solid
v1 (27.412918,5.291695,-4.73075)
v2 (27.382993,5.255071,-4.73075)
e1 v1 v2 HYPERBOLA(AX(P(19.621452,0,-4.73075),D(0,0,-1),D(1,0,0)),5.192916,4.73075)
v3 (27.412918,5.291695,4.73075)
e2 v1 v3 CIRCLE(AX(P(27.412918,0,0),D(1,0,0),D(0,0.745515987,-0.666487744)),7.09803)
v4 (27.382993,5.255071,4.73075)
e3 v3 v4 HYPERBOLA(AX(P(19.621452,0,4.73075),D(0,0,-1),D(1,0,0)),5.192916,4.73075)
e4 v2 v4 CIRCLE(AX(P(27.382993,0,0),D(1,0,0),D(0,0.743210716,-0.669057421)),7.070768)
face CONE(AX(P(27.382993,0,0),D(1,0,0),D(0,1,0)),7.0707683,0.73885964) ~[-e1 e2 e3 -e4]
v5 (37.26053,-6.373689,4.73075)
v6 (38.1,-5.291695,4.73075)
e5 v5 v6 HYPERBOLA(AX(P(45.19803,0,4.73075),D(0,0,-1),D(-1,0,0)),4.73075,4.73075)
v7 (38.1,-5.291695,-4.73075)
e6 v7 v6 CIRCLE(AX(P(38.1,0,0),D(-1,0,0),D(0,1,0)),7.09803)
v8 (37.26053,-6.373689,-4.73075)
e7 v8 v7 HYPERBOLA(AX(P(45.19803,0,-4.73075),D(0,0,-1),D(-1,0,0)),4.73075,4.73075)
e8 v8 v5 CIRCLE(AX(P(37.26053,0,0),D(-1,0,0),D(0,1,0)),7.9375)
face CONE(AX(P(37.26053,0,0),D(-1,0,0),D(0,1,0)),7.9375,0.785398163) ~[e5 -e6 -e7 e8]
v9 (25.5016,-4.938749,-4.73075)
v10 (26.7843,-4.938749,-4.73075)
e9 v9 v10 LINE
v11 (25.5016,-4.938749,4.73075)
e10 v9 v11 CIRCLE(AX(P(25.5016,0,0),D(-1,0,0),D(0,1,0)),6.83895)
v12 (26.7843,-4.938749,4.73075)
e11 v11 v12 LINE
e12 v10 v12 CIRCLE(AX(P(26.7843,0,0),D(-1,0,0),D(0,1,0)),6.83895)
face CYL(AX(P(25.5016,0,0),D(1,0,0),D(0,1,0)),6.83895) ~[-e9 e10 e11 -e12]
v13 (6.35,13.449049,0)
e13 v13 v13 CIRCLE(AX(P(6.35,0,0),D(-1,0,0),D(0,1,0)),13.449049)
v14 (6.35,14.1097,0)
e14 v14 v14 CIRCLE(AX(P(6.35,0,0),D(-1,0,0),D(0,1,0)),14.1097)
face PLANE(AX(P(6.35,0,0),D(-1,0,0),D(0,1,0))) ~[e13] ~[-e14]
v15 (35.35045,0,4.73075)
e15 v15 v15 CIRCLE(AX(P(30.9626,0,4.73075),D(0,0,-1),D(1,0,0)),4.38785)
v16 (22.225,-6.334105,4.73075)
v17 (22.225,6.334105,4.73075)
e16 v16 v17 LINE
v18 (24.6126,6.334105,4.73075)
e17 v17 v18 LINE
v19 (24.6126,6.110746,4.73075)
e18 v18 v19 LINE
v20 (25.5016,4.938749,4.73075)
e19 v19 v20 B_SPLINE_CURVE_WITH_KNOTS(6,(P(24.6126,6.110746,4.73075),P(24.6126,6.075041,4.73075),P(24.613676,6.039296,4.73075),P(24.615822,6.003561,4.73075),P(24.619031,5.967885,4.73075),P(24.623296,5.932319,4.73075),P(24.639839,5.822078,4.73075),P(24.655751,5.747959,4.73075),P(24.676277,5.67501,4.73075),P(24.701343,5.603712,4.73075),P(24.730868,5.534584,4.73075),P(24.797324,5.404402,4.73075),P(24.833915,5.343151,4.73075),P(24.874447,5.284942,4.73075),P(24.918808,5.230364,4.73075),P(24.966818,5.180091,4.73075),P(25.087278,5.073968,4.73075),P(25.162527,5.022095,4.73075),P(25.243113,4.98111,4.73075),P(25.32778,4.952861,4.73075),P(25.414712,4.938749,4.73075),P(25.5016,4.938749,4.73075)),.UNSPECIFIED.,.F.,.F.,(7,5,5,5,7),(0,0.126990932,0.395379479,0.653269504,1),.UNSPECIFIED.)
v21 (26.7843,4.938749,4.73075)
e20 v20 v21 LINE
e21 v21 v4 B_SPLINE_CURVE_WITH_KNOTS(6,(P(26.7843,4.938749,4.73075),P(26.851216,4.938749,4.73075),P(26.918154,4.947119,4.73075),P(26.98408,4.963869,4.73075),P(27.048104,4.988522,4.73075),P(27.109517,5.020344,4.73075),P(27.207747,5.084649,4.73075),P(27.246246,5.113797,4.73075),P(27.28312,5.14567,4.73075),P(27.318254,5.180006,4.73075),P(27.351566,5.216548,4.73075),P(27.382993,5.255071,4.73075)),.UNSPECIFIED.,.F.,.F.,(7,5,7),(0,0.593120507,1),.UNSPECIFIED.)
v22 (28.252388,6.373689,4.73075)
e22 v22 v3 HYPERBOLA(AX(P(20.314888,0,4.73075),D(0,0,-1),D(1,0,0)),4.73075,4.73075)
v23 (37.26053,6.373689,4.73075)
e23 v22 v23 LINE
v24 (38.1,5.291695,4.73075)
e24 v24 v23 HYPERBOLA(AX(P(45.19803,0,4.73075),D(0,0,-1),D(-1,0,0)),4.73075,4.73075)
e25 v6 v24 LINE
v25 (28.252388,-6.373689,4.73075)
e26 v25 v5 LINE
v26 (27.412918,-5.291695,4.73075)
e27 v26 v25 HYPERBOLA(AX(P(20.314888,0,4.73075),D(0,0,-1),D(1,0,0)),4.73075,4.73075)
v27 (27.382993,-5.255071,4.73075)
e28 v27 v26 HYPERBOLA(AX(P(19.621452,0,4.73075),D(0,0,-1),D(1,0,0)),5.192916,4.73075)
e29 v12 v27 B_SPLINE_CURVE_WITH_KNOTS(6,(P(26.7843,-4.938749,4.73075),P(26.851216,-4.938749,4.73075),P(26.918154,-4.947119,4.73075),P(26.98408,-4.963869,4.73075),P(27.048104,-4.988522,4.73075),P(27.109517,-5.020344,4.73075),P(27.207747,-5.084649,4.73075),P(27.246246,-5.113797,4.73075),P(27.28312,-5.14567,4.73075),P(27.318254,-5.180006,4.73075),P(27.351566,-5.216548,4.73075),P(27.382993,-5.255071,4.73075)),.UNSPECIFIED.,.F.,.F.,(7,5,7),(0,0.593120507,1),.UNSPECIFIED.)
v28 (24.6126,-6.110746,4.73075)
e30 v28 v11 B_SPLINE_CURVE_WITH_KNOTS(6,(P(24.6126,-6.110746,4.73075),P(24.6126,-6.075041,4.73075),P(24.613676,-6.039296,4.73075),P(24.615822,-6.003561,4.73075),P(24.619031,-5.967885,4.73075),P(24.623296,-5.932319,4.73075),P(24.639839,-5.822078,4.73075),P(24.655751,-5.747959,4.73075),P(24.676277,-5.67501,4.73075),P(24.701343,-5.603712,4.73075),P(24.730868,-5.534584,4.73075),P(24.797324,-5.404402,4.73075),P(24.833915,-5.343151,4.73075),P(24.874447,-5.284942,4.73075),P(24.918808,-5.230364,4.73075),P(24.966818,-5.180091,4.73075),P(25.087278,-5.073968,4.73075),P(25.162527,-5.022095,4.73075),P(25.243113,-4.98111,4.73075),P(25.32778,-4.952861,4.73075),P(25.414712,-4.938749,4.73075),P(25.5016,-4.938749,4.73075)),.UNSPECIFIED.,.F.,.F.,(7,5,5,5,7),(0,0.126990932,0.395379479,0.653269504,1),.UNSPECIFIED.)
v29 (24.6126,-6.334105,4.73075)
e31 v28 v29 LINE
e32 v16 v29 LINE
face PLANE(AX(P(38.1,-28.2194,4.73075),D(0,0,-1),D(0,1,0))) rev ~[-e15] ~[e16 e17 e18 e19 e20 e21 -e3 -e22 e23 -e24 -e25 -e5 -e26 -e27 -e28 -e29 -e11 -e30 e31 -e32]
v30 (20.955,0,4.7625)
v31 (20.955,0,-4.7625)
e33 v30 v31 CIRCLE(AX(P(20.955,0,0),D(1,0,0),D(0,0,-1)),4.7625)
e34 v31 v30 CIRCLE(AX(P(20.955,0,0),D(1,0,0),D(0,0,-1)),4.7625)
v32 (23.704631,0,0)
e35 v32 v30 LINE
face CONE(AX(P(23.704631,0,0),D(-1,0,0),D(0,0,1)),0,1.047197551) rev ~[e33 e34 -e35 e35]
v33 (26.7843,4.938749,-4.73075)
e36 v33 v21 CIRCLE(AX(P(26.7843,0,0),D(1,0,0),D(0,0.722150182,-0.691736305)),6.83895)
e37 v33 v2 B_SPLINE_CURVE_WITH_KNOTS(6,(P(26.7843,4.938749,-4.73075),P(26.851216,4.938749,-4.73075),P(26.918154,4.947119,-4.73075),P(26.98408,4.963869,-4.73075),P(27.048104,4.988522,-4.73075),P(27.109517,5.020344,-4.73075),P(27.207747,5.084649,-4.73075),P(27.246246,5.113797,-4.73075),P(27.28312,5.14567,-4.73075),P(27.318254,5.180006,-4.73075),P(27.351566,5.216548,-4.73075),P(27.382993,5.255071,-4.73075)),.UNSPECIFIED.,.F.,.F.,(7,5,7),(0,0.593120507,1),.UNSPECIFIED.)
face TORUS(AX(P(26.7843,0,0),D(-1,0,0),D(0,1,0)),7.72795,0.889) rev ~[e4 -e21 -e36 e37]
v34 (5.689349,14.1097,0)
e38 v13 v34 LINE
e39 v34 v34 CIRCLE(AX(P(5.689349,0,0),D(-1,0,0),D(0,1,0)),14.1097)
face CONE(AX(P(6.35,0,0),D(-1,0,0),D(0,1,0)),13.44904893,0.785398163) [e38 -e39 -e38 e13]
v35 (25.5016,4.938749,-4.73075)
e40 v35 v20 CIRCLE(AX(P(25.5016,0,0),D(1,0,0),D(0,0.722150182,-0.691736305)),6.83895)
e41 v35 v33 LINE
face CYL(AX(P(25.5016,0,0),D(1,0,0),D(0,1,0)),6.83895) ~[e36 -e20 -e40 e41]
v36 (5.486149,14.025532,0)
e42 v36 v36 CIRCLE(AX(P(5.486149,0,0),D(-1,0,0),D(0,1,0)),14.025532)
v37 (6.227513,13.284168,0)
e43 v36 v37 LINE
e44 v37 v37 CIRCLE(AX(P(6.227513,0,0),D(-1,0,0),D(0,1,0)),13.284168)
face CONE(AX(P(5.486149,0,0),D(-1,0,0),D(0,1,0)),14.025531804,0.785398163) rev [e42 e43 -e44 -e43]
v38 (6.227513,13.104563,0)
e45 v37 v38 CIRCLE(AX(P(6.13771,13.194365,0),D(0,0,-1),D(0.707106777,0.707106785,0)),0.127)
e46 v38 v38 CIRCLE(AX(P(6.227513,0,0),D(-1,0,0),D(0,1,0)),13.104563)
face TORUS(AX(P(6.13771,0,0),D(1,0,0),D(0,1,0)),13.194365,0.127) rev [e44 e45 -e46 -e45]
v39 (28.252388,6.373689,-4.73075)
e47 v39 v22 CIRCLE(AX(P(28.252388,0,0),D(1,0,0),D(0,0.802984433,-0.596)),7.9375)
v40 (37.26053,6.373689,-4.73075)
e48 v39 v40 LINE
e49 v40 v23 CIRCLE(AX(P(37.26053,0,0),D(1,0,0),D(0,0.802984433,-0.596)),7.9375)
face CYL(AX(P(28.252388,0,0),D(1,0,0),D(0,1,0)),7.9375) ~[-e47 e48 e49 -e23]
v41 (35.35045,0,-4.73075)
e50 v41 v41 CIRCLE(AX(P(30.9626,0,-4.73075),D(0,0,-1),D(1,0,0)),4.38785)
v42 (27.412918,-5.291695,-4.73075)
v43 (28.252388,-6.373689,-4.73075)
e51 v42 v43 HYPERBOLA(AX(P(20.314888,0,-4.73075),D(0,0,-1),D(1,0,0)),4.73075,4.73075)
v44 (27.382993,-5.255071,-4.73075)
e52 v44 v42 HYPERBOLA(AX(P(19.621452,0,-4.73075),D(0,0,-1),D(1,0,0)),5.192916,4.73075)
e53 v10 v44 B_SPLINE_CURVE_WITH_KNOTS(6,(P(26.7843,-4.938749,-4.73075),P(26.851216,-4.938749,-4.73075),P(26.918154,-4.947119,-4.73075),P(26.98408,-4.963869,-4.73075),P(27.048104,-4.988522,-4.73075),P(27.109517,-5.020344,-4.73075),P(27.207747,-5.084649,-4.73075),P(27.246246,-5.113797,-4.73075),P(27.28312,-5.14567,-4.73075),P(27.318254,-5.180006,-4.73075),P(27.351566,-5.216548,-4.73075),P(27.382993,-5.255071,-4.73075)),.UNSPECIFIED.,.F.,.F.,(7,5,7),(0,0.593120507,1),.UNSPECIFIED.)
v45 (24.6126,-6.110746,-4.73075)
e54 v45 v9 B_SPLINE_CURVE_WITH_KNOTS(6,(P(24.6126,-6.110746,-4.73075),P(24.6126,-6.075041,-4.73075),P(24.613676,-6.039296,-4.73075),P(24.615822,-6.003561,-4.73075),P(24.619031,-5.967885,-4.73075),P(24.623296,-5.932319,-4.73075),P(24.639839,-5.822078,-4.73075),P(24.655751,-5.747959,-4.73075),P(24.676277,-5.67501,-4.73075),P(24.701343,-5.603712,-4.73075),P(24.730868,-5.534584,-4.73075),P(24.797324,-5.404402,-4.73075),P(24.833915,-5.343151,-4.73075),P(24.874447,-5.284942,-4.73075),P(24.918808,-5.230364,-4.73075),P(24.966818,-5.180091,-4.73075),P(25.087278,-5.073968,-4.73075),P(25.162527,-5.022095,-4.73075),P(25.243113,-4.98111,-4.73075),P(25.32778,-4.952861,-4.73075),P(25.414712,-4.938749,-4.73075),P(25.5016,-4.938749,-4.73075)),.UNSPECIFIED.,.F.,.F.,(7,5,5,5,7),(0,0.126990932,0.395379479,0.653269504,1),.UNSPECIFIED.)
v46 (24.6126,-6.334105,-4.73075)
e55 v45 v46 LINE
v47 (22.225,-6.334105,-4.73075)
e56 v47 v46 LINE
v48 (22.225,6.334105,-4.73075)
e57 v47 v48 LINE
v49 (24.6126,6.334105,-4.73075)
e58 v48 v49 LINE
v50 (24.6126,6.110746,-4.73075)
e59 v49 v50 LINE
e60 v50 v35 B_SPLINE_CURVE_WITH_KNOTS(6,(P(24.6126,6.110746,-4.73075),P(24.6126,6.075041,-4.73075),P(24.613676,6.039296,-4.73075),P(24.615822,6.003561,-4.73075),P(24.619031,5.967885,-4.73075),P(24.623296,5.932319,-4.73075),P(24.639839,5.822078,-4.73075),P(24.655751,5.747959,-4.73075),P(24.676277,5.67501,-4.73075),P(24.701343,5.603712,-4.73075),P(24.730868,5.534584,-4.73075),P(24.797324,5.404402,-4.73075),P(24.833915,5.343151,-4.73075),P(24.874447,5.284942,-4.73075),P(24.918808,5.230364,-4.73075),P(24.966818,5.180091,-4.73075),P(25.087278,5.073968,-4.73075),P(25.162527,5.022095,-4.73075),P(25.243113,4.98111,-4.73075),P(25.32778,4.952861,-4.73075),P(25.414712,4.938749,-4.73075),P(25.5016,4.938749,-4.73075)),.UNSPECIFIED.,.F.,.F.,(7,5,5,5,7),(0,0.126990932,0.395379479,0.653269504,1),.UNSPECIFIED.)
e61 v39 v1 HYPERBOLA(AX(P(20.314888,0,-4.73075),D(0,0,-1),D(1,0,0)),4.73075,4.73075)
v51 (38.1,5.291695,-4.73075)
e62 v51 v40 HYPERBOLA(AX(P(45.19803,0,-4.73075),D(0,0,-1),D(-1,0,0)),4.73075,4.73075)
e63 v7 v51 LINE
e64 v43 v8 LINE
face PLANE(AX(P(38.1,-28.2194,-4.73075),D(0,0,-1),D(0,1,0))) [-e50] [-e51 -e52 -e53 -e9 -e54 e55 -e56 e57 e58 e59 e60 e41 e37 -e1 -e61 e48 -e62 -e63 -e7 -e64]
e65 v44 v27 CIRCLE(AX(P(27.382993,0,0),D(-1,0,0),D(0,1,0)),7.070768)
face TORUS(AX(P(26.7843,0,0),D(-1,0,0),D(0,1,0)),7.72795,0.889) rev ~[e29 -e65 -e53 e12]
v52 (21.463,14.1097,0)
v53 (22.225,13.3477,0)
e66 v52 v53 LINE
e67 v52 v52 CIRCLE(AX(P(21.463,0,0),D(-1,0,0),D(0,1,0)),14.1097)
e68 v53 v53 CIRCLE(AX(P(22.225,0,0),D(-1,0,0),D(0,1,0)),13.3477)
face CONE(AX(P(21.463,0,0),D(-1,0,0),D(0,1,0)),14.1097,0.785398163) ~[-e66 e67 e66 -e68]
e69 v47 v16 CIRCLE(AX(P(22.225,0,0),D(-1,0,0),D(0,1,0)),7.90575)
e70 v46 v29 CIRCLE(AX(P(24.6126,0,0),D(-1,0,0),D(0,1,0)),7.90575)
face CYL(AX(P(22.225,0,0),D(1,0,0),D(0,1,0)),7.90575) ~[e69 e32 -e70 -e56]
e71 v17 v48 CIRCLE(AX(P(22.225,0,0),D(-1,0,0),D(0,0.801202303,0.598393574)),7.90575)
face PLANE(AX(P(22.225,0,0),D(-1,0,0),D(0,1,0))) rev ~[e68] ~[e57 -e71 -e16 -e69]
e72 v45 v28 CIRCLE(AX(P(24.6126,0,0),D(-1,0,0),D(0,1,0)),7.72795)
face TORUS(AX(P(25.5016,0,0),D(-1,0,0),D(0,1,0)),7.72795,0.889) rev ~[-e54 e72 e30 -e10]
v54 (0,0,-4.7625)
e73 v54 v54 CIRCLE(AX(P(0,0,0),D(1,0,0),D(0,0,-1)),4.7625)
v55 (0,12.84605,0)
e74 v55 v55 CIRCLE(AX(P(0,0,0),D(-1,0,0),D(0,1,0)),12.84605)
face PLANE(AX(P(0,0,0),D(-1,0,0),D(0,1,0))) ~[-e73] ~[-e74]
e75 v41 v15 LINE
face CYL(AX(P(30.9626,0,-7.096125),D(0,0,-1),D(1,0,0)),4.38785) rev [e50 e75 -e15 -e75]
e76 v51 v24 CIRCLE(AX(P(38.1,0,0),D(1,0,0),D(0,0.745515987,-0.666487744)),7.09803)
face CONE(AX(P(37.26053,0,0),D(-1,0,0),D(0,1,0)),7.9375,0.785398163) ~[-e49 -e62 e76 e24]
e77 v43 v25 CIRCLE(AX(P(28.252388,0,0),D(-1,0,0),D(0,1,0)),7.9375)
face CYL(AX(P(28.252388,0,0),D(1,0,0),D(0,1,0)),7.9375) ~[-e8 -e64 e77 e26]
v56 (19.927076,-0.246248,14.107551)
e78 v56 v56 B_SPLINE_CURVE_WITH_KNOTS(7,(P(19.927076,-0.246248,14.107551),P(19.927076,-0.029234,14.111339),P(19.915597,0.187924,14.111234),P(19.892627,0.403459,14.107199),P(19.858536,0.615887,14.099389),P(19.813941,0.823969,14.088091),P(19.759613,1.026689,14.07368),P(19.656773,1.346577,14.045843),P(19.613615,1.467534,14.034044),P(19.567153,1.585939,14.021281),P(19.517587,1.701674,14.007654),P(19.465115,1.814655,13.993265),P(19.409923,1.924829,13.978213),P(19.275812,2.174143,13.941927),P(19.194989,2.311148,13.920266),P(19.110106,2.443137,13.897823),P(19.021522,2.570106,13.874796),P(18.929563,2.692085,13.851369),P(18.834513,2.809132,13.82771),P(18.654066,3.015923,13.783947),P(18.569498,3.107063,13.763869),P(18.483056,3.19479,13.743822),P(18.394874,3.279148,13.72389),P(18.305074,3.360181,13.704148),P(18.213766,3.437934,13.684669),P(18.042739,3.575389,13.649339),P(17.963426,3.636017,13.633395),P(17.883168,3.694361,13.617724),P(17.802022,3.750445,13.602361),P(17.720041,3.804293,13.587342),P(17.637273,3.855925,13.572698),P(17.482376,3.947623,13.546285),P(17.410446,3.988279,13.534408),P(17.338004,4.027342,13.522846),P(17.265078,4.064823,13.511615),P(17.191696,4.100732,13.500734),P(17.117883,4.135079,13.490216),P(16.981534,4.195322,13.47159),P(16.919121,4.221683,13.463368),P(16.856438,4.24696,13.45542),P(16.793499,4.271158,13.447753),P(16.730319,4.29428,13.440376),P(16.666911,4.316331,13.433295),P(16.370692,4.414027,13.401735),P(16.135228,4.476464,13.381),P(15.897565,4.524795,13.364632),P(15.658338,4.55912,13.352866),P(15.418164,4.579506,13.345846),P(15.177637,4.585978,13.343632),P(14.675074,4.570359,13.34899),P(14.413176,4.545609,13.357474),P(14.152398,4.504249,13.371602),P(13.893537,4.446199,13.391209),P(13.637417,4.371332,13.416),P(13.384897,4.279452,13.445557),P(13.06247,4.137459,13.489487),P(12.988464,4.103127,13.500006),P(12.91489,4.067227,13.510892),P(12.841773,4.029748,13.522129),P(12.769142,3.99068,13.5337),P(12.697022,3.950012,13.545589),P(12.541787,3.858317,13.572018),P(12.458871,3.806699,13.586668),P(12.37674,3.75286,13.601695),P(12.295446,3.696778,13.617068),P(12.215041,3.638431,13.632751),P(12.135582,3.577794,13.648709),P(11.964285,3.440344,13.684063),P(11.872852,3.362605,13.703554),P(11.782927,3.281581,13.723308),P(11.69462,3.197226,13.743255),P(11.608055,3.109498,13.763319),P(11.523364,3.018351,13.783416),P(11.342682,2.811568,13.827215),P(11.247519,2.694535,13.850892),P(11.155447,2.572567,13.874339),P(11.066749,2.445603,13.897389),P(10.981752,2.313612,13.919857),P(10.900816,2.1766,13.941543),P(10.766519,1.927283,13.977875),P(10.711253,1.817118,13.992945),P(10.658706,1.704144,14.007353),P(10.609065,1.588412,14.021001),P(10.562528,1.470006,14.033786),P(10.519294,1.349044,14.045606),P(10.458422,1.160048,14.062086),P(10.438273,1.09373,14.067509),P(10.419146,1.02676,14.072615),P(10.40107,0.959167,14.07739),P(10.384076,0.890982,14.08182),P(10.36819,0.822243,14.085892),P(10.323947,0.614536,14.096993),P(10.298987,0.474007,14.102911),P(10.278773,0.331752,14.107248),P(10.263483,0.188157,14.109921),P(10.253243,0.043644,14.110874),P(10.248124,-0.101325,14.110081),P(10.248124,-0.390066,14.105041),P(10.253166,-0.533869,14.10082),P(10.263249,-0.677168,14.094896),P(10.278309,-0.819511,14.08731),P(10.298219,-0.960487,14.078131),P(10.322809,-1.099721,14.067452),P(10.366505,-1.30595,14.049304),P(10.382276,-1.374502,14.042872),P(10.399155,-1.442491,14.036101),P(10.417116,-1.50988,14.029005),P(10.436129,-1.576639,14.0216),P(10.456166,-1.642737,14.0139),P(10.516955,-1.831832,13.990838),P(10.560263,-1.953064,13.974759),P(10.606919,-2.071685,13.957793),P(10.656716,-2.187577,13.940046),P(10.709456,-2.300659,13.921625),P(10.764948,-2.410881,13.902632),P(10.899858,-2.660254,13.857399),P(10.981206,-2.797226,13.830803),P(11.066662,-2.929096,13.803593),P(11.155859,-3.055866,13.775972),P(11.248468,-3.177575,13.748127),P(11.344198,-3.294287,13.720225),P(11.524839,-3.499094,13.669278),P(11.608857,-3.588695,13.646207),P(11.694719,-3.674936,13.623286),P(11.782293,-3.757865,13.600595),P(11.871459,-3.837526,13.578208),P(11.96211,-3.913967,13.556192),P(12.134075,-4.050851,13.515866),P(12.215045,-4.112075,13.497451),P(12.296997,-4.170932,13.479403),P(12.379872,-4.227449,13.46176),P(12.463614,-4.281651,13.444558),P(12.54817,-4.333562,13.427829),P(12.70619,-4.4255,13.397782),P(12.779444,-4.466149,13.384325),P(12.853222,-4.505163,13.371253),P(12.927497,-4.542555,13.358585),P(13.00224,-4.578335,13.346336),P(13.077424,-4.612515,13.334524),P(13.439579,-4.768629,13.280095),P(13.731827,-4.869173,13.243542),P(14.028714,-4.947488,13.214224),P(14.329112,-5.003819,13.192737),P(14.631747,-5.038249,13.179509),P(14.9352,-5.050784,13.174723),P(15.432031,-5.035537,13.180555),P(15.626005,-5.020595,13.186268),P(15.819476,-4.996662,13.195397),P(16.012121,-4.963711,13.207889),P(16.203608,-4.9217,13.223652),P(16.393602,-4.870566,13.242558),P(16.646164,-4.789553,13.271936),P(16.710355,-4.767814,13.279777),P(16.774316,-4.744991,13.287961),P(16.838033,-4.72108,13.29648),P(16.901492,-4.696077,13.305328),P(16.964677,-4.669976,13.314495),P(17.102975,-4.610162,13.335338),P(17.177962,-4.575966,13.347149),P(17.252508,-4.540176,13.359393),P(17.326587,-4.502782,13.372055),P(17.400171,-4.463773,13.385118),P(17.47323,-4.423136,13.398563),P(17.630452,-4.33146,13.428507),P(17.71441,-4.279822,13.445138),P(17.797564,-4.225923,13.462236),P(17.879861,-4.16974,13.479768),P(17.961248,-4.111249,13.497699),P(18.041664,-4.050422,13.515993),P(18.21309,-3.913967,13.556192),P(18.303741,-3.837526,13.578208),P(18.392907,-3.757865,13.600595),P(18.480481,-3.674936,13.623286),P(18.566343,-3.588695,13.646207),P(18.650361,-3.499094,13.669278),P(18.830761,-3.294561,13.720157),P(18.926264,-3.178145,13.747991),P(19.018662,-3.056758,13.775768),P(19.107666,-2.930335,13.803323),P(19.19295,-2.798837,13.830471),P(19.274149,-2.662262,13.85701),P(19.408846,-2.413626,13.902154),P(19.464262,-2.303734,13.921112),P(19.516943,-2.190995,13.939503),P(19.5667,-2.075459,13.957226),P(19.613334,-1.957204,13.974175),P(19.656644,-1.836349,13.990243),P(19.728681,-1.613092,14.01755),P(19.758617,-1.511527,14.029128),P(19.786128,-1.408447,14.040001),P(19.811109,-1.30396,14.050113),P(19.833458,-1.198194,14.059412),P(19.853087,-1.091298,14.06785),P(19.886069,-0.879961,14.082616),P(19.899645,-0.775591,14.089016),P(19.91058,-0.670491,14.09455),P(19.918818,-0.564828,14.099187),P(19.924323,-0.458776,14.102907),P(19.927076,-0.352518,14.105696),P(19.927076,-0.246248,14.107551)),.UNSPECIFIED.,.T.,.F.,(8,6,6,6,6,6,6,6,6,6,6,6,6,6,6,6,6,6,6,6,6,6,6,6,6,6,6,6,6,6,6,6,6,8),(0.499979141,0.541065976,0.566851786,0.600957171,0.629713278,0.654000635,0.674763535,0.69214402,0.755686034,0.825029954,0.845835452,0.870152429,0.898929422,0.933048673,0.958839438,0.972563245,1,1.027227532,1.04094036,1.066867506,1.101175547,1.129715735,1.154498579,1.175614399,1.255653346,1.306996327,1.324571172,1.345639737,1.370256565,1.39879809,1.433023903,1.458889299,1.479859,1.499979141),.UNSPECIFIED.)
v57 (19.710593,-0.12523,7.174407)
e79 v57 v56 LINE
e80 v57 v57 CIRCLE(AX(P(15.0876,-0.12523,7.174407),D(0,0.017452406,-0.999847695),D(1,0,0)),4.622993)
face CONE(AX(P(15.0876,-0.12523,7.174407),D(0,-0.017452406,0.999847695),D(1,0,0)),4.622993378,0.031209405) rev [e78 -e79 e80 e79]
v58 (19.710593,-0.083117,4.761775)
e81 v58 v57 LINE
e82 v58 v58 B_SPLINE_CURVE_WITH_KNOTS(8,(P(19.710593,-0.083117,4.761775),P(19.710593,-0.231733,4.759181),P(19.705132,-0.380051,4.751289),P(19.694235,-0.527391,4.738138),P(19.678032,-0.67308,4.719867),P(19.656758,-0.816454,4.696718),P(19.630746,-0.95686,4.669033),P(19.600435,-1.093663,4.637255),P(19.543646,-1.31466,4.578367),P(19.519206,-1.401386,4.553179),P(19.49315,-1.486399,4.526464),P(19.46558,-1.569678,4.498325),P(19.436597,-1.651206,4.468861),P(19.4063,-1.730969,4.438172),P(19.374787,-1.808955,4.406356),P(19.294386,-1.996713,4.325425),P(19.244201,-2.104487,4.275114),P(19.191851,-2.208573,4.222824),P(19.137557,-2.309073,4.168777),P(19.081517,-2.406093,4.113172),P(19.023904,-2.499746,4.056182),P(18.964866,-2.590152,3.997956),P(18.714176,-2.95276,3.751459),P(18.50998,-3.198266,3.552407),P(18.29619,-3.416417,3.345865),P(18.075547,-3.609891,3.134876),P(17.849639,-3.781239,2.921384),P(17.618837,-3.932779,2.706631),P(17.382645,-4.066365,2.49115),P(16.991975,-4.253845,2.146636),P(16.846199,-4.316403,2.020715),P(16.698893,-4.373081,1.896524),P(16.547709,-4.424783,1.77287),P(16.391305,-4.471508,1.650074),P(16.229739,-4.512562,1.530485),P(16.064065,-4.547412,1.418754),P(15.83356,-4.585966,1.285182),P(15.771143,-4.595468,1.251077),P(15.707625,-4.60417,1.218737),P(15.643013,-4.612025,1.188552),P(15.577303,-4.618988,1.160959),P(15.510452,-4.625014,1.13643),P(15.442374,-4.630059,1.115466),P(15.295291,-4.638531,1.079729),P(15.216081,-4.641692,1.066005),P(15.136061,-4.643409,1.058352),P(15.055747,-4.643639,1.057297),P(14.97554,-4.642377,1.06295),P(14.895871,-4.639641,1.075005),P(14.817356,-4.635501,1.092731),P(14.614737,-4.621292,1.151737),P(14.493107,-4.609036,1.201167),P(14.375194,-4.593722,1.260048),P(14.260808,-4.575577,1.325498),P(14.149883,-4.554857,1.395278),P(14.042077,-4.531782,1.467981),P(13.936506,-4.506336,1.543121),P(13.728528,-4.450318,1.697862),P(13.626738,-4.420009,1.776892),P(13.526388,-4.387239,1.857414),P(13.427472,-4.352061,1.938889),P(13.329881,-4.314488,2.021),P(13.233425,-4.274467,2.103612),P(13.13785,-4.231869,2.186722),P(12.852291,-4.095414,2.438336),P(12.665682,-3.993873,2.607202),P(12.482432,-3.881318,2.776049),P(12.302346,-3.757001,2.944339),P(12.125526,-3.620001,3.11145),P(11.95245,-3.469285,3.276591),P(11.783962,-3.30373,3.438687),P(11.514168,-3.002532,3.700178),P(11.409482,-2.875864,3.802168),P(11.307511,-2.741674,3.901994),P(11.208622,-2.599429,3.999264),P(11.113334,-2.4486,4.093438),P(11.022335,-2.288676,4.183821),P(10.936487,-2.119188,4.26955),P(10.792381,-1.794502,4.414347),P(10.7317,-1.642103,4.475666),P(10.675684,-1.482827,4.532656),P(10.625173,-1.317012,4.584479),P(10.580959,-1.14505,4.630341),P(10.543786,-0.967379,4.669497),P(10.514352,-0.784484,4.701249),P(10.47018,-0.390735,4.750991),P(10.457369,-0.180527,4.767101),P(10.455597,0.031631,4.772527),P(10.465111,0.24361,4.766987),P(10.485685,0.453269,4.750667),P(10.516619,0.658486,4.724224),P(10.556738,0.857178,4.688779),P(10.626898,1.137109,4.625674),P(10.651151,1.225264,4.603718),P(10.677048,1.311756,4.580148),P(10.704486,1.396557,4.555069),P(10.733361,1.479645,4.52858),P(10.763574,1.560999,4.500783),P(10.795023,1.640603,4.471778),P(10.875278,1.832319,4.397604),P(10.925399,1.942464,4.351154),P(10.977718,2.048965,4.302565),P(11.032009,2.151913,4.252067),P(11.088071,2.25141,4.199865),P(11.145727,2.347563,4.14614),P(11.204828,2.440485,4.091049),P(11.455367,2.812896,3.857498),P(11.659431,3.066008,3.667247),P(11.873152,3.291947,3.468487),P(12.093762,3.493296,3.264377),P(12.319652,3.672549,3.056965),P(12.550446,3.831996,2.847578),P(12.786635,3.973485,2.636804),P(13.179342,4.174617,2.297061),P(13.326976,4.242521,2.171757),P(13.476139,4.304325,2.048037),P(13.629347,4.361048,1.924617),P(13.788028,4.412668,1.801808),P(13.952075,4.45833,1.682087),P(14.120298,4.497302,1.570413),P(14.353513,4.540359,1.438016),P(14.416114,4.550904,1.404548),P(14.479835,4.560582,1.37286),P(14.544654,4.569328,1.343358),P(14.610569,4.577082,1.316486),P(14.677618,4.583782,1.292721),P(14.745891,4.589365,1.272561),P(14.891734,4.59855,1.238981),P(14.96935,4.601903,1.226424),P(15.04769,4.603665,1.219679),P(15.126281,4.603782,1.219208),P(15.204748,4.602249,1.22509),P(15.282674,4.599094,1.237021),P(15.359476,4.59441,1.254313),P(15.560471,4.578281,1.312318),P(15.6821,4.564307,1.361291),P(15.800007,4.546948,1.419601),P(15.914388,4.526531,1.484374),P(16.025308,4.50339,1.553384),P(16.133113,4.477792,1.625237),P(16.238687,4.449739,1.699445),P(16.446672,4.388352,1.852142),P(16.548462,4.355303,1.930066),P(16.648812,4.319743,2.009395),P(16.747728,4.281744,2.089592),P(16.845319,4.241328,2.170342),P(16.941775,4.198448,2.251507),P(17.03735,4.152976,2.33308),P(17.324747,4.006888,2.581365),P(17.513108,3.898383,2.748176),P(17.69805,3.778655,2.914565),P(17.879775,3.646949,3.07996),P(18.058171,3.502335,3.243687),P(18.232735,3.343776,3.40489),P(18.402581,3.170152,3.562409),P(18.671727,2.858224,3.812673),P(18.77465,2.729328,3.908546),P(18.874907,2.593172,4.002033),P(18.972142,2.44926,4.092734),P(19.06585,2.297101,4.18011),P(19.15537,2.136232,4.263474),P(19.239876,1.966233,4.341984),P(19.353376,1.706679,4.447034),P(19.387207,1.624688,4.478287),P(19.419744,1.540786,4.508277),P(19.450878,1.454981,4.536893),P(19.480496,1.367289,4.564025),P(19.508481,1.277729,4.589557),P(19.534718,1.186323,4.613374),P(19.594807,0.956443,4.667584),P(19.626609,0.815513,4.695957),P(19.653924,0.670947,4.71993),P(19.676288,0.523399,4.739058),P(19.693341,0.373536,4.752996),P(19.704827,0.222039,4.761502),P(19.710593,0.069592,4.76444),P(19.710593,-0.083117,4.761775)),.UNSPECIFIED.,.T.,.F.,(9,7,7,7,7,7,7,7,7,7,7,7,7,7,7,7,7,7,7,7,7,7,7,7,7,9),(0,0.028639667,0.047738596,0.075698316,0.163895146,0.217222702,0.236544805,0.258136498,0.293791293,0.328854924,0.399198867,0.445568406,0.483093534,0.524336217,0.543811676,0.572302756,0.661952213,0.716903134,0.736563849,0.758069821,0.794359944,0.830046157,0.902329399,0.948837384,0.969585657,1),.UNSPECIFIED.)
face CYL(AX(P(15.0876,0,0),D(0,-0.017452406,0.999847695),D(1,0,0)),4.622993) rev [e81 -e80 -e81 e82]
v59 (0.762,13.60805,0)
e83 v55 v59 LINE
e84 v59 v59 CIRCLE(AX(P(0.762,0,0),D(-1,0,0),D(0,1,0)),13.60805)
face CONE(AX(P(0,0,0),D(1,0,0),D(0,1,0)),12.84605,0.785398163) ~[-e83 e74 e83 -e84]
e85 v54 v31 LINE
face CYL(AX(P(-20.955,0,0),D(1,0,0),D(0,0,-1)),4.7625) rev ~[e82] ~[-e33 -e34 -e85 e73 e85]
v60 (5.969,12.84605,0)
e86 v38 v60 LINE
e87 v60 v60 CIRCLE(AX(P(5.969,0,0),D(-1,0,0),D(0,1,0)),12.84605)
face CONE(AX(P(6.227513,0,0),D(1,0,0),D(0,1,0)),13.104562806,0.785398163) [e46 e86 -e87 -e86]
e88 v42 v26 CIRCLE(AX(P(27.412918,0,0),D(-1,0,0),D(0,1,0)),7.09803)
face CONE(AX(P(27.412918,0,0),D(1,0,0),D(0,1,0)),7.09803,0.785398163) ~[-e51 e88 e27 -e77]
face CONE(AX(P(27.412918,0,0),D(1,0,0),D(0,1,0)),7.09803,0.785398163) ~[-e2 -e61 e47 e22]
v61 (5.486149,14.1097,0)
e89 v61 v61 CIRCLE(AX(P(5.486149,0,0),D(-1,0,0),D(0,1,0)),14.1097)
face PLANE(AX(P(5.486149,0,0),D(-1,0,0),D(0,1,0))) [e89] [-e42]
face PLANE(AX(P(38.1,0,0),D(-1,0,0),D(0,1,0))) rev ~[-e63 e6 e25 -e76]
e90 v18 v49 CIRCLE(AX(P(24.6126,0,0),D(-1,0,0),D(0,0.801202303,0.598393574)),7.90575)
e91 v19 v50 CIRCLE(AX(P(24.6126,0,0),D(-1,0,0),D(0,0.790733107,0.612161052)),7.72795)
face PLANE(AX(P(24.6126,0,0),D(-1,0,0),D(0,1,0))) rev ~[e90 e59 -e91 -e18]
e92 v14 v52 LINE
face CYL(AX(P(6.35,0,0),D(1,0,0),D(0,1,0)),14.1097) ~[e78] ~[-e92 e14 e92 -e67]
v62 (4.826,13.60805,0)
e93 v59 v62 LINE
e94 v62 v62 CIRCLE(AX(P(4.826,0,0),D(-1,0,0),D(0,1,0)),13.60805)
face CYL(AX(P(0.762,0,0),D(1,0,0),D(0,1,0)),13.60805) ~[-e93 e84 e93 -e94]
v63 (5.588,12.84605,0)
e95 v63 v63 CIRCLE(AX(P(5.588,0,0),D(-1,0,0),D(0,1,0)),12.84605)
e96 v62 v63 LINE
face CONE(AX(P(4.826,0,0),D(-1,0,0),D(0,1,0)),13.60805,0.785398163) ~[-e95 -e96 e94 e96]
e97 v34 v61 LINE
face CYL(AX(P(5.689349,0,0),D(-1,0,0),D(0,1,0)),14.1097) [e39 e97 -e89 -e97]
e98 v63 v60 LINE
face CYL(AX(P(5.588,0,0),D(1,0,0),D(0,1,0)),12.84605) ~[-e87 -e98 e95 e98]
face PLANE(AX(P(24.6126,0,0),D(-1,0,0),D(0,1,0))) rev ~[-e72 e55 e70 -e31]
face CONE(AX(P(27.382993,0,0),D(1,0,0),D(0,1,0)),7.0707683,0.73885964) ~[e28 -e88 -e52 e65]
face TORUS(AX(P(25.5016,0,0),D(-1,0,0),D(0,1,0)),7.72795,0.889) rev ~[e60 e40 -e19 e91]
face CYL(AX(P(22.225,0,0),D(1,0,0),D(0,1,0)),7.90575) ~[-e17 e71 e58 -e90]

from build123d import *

# Parameters (mm, degrees)
SKETCH3_W               = 56.4388
SKETCH3_H               = 112.8776
SKETCH3_W_2             = 9.4615
SKETCH3_H_2             = 56.4388
CUT_EXTRUDE1_DEPTH      = 15.875
HOLE1_D                 = 9.525
HOLE1_DEPTH             = 20.955
HOLE1_TIP               = 2.749630657
CUT_EXTRUDE2_DEPTH      = 7.096125
CUT_EXTRUDE2_DEPTH_BACK = 7.096125
SKETCH8_R               = 4.38785


with BuildPart() as part:
    # Sketch1 → Revolve1 (revolve)
    with BuildSketch(Plane.XY):
        Polygon((0, 0), (0, 12.84605), (0.762, 13.60805), (4.826, 13.60805), (5.588, 12.84605), (6.35, 12.84605), (6.35, 14.1097), (21.463, 14.1097), (22.225, 13.3477), (22.225, 0), align=None)
    revolve(axis=Axis((22.225, 0, 0), (-1, 0, 0)))

    # Sketch2 → Revolve2 (revolve)
    with BuildSketch(Plane.XY):
        with BuildLine():
            Line((22.225, 0), (22.225, 7.90575))
            Line((22.225, 7.90575), (24.6126, 7.90575))
            Line((24.6126, 7.90575), (24.6126, 7.72795))
            ThreePointArc((24.6126, 7.72795), (24.872982072, 7.099332072), (25.5016, 6.83895))
            Line((25.5016, 6.83895), (26.7843, 6.83895))
            ThreePointArc((26.7843, 6.83895), (27.10530348, 6.898927826), (27.38299292, 7.0707683))
            Line((27.38299292, 7.0707683), (27.412917928, 7.09803))
            Line((27.412917928, 7.09803), (28.252387928, 7.9375))
            Line((28.252387928, 7.9375), (37.26053, 7.9375))
            Line((37.26053, 7.9375), (38.1, 7.09803))
            Line((38.1, 7.09803), (38.1, 0))
            Line((38.1, 0), (22.225, 0))
        make_face()
    revolve(axis=Axis((38.1, 0, 0), (-1, 0, 0)))

    # Sketch3 → Cut-Extrude1 (cut)
    with BuildSketch(Plane(origin=(38.1, 0, 0), x_dir=(0, 0, -1), z_dir=(1, 0, 0))):
        Rectangle(SKETCH3_W, SKETCH3_H)
        Rectangle(SKETCH3_W_2, SKETCH3_H_2, mode=Mode.SUBTRACT)
    extrude(amount=-CUT_EXTRUDE1_DEPTH, mode=Mode.SUBTRACT)

    # Hole1
    with Locations(Plane.ZY):
        with Locations((0, 0)):
            Hole(HOLE1_D / 2, depth=HOLE1_DEPTH)
            with Locations((0, 0, -(HOLE1_DEPTH + HOLE1_TIP / 2))):  # 120° drill point
                Cone(0, HOLE1_D / 2, HOLE1_TIP, mode=Mode.SUBTRACT)

    # Sketch6 → Cut-Revolve1 (revolve, cut)
    with BuildSketch(Plane(origin=(0, 0, 0), x_dir=(1, 0, 0), z_dir=(0, 0.9998476951563913, 0.01745240643728403))):
        Polygon((15.0876, 0), (19.710593378, 0), (19.710593378, -7.1755), (19.927075925, -14.1097), (15.0876, -14.1097), align=None)
    revolve(axis=Axis((15.0876, -0.246248219, 14.107551024), (0, 0.01745240643728403, -0.9998476951563913)), mode=Mode.SUBTRACT)

    # Sketch7 → Revolve3 (revolve)
    with BuildSketch(Plane.XY):
        with BuildLine():
            Line((5.48614893, 14.025531804), (6.227512806, 13.284167928))
            ThreePointArc((6.227512806, 13.284167928), (6.264710245, 13.194365367), (6.227512806, 13.104562806))
            Line((6.227512806, 13.104562806), (5.969, 12.84605))
            Line((5.969, 12.84605), (5.588, 12.84605))
            Line((5.588, 12.84605), (5.588, 12.59205))
            Line((5.588, 12.59205), (6.35, 12.59205))
            Line((6.35, 12.59205), (6.35, 13.44904893))
            Line((6.35, 13.44904893), (5.68934893, 14.1097))
            Line((5.68934893, 14.1097), (5.48614893, 14.1097))
            Line((5.48614893, 14.1097), (5.48614893, 14.025531804))
        make_face()
    revolve(axis=Axis((6.35, 0, 0), (-1, 0, 0)))

    # Sketch8 → Cut-Extrude2 (cut, two sides: drawn at the far end of the back side and taken through both)
    with BuildSketch(Plane.XY.offset(-CUT_EXTRUDE2_DEPTH_BACK)):
        with Locations((30.9626, 0)):
            Circle(SKETCH8_R)
    extrude(amount=CUT_EXTRUDE2_DEPTH + CUT_EXTRUDE2_DEPTH_BACK, mode=Mode.SUBTRACT)


solid = part.part
